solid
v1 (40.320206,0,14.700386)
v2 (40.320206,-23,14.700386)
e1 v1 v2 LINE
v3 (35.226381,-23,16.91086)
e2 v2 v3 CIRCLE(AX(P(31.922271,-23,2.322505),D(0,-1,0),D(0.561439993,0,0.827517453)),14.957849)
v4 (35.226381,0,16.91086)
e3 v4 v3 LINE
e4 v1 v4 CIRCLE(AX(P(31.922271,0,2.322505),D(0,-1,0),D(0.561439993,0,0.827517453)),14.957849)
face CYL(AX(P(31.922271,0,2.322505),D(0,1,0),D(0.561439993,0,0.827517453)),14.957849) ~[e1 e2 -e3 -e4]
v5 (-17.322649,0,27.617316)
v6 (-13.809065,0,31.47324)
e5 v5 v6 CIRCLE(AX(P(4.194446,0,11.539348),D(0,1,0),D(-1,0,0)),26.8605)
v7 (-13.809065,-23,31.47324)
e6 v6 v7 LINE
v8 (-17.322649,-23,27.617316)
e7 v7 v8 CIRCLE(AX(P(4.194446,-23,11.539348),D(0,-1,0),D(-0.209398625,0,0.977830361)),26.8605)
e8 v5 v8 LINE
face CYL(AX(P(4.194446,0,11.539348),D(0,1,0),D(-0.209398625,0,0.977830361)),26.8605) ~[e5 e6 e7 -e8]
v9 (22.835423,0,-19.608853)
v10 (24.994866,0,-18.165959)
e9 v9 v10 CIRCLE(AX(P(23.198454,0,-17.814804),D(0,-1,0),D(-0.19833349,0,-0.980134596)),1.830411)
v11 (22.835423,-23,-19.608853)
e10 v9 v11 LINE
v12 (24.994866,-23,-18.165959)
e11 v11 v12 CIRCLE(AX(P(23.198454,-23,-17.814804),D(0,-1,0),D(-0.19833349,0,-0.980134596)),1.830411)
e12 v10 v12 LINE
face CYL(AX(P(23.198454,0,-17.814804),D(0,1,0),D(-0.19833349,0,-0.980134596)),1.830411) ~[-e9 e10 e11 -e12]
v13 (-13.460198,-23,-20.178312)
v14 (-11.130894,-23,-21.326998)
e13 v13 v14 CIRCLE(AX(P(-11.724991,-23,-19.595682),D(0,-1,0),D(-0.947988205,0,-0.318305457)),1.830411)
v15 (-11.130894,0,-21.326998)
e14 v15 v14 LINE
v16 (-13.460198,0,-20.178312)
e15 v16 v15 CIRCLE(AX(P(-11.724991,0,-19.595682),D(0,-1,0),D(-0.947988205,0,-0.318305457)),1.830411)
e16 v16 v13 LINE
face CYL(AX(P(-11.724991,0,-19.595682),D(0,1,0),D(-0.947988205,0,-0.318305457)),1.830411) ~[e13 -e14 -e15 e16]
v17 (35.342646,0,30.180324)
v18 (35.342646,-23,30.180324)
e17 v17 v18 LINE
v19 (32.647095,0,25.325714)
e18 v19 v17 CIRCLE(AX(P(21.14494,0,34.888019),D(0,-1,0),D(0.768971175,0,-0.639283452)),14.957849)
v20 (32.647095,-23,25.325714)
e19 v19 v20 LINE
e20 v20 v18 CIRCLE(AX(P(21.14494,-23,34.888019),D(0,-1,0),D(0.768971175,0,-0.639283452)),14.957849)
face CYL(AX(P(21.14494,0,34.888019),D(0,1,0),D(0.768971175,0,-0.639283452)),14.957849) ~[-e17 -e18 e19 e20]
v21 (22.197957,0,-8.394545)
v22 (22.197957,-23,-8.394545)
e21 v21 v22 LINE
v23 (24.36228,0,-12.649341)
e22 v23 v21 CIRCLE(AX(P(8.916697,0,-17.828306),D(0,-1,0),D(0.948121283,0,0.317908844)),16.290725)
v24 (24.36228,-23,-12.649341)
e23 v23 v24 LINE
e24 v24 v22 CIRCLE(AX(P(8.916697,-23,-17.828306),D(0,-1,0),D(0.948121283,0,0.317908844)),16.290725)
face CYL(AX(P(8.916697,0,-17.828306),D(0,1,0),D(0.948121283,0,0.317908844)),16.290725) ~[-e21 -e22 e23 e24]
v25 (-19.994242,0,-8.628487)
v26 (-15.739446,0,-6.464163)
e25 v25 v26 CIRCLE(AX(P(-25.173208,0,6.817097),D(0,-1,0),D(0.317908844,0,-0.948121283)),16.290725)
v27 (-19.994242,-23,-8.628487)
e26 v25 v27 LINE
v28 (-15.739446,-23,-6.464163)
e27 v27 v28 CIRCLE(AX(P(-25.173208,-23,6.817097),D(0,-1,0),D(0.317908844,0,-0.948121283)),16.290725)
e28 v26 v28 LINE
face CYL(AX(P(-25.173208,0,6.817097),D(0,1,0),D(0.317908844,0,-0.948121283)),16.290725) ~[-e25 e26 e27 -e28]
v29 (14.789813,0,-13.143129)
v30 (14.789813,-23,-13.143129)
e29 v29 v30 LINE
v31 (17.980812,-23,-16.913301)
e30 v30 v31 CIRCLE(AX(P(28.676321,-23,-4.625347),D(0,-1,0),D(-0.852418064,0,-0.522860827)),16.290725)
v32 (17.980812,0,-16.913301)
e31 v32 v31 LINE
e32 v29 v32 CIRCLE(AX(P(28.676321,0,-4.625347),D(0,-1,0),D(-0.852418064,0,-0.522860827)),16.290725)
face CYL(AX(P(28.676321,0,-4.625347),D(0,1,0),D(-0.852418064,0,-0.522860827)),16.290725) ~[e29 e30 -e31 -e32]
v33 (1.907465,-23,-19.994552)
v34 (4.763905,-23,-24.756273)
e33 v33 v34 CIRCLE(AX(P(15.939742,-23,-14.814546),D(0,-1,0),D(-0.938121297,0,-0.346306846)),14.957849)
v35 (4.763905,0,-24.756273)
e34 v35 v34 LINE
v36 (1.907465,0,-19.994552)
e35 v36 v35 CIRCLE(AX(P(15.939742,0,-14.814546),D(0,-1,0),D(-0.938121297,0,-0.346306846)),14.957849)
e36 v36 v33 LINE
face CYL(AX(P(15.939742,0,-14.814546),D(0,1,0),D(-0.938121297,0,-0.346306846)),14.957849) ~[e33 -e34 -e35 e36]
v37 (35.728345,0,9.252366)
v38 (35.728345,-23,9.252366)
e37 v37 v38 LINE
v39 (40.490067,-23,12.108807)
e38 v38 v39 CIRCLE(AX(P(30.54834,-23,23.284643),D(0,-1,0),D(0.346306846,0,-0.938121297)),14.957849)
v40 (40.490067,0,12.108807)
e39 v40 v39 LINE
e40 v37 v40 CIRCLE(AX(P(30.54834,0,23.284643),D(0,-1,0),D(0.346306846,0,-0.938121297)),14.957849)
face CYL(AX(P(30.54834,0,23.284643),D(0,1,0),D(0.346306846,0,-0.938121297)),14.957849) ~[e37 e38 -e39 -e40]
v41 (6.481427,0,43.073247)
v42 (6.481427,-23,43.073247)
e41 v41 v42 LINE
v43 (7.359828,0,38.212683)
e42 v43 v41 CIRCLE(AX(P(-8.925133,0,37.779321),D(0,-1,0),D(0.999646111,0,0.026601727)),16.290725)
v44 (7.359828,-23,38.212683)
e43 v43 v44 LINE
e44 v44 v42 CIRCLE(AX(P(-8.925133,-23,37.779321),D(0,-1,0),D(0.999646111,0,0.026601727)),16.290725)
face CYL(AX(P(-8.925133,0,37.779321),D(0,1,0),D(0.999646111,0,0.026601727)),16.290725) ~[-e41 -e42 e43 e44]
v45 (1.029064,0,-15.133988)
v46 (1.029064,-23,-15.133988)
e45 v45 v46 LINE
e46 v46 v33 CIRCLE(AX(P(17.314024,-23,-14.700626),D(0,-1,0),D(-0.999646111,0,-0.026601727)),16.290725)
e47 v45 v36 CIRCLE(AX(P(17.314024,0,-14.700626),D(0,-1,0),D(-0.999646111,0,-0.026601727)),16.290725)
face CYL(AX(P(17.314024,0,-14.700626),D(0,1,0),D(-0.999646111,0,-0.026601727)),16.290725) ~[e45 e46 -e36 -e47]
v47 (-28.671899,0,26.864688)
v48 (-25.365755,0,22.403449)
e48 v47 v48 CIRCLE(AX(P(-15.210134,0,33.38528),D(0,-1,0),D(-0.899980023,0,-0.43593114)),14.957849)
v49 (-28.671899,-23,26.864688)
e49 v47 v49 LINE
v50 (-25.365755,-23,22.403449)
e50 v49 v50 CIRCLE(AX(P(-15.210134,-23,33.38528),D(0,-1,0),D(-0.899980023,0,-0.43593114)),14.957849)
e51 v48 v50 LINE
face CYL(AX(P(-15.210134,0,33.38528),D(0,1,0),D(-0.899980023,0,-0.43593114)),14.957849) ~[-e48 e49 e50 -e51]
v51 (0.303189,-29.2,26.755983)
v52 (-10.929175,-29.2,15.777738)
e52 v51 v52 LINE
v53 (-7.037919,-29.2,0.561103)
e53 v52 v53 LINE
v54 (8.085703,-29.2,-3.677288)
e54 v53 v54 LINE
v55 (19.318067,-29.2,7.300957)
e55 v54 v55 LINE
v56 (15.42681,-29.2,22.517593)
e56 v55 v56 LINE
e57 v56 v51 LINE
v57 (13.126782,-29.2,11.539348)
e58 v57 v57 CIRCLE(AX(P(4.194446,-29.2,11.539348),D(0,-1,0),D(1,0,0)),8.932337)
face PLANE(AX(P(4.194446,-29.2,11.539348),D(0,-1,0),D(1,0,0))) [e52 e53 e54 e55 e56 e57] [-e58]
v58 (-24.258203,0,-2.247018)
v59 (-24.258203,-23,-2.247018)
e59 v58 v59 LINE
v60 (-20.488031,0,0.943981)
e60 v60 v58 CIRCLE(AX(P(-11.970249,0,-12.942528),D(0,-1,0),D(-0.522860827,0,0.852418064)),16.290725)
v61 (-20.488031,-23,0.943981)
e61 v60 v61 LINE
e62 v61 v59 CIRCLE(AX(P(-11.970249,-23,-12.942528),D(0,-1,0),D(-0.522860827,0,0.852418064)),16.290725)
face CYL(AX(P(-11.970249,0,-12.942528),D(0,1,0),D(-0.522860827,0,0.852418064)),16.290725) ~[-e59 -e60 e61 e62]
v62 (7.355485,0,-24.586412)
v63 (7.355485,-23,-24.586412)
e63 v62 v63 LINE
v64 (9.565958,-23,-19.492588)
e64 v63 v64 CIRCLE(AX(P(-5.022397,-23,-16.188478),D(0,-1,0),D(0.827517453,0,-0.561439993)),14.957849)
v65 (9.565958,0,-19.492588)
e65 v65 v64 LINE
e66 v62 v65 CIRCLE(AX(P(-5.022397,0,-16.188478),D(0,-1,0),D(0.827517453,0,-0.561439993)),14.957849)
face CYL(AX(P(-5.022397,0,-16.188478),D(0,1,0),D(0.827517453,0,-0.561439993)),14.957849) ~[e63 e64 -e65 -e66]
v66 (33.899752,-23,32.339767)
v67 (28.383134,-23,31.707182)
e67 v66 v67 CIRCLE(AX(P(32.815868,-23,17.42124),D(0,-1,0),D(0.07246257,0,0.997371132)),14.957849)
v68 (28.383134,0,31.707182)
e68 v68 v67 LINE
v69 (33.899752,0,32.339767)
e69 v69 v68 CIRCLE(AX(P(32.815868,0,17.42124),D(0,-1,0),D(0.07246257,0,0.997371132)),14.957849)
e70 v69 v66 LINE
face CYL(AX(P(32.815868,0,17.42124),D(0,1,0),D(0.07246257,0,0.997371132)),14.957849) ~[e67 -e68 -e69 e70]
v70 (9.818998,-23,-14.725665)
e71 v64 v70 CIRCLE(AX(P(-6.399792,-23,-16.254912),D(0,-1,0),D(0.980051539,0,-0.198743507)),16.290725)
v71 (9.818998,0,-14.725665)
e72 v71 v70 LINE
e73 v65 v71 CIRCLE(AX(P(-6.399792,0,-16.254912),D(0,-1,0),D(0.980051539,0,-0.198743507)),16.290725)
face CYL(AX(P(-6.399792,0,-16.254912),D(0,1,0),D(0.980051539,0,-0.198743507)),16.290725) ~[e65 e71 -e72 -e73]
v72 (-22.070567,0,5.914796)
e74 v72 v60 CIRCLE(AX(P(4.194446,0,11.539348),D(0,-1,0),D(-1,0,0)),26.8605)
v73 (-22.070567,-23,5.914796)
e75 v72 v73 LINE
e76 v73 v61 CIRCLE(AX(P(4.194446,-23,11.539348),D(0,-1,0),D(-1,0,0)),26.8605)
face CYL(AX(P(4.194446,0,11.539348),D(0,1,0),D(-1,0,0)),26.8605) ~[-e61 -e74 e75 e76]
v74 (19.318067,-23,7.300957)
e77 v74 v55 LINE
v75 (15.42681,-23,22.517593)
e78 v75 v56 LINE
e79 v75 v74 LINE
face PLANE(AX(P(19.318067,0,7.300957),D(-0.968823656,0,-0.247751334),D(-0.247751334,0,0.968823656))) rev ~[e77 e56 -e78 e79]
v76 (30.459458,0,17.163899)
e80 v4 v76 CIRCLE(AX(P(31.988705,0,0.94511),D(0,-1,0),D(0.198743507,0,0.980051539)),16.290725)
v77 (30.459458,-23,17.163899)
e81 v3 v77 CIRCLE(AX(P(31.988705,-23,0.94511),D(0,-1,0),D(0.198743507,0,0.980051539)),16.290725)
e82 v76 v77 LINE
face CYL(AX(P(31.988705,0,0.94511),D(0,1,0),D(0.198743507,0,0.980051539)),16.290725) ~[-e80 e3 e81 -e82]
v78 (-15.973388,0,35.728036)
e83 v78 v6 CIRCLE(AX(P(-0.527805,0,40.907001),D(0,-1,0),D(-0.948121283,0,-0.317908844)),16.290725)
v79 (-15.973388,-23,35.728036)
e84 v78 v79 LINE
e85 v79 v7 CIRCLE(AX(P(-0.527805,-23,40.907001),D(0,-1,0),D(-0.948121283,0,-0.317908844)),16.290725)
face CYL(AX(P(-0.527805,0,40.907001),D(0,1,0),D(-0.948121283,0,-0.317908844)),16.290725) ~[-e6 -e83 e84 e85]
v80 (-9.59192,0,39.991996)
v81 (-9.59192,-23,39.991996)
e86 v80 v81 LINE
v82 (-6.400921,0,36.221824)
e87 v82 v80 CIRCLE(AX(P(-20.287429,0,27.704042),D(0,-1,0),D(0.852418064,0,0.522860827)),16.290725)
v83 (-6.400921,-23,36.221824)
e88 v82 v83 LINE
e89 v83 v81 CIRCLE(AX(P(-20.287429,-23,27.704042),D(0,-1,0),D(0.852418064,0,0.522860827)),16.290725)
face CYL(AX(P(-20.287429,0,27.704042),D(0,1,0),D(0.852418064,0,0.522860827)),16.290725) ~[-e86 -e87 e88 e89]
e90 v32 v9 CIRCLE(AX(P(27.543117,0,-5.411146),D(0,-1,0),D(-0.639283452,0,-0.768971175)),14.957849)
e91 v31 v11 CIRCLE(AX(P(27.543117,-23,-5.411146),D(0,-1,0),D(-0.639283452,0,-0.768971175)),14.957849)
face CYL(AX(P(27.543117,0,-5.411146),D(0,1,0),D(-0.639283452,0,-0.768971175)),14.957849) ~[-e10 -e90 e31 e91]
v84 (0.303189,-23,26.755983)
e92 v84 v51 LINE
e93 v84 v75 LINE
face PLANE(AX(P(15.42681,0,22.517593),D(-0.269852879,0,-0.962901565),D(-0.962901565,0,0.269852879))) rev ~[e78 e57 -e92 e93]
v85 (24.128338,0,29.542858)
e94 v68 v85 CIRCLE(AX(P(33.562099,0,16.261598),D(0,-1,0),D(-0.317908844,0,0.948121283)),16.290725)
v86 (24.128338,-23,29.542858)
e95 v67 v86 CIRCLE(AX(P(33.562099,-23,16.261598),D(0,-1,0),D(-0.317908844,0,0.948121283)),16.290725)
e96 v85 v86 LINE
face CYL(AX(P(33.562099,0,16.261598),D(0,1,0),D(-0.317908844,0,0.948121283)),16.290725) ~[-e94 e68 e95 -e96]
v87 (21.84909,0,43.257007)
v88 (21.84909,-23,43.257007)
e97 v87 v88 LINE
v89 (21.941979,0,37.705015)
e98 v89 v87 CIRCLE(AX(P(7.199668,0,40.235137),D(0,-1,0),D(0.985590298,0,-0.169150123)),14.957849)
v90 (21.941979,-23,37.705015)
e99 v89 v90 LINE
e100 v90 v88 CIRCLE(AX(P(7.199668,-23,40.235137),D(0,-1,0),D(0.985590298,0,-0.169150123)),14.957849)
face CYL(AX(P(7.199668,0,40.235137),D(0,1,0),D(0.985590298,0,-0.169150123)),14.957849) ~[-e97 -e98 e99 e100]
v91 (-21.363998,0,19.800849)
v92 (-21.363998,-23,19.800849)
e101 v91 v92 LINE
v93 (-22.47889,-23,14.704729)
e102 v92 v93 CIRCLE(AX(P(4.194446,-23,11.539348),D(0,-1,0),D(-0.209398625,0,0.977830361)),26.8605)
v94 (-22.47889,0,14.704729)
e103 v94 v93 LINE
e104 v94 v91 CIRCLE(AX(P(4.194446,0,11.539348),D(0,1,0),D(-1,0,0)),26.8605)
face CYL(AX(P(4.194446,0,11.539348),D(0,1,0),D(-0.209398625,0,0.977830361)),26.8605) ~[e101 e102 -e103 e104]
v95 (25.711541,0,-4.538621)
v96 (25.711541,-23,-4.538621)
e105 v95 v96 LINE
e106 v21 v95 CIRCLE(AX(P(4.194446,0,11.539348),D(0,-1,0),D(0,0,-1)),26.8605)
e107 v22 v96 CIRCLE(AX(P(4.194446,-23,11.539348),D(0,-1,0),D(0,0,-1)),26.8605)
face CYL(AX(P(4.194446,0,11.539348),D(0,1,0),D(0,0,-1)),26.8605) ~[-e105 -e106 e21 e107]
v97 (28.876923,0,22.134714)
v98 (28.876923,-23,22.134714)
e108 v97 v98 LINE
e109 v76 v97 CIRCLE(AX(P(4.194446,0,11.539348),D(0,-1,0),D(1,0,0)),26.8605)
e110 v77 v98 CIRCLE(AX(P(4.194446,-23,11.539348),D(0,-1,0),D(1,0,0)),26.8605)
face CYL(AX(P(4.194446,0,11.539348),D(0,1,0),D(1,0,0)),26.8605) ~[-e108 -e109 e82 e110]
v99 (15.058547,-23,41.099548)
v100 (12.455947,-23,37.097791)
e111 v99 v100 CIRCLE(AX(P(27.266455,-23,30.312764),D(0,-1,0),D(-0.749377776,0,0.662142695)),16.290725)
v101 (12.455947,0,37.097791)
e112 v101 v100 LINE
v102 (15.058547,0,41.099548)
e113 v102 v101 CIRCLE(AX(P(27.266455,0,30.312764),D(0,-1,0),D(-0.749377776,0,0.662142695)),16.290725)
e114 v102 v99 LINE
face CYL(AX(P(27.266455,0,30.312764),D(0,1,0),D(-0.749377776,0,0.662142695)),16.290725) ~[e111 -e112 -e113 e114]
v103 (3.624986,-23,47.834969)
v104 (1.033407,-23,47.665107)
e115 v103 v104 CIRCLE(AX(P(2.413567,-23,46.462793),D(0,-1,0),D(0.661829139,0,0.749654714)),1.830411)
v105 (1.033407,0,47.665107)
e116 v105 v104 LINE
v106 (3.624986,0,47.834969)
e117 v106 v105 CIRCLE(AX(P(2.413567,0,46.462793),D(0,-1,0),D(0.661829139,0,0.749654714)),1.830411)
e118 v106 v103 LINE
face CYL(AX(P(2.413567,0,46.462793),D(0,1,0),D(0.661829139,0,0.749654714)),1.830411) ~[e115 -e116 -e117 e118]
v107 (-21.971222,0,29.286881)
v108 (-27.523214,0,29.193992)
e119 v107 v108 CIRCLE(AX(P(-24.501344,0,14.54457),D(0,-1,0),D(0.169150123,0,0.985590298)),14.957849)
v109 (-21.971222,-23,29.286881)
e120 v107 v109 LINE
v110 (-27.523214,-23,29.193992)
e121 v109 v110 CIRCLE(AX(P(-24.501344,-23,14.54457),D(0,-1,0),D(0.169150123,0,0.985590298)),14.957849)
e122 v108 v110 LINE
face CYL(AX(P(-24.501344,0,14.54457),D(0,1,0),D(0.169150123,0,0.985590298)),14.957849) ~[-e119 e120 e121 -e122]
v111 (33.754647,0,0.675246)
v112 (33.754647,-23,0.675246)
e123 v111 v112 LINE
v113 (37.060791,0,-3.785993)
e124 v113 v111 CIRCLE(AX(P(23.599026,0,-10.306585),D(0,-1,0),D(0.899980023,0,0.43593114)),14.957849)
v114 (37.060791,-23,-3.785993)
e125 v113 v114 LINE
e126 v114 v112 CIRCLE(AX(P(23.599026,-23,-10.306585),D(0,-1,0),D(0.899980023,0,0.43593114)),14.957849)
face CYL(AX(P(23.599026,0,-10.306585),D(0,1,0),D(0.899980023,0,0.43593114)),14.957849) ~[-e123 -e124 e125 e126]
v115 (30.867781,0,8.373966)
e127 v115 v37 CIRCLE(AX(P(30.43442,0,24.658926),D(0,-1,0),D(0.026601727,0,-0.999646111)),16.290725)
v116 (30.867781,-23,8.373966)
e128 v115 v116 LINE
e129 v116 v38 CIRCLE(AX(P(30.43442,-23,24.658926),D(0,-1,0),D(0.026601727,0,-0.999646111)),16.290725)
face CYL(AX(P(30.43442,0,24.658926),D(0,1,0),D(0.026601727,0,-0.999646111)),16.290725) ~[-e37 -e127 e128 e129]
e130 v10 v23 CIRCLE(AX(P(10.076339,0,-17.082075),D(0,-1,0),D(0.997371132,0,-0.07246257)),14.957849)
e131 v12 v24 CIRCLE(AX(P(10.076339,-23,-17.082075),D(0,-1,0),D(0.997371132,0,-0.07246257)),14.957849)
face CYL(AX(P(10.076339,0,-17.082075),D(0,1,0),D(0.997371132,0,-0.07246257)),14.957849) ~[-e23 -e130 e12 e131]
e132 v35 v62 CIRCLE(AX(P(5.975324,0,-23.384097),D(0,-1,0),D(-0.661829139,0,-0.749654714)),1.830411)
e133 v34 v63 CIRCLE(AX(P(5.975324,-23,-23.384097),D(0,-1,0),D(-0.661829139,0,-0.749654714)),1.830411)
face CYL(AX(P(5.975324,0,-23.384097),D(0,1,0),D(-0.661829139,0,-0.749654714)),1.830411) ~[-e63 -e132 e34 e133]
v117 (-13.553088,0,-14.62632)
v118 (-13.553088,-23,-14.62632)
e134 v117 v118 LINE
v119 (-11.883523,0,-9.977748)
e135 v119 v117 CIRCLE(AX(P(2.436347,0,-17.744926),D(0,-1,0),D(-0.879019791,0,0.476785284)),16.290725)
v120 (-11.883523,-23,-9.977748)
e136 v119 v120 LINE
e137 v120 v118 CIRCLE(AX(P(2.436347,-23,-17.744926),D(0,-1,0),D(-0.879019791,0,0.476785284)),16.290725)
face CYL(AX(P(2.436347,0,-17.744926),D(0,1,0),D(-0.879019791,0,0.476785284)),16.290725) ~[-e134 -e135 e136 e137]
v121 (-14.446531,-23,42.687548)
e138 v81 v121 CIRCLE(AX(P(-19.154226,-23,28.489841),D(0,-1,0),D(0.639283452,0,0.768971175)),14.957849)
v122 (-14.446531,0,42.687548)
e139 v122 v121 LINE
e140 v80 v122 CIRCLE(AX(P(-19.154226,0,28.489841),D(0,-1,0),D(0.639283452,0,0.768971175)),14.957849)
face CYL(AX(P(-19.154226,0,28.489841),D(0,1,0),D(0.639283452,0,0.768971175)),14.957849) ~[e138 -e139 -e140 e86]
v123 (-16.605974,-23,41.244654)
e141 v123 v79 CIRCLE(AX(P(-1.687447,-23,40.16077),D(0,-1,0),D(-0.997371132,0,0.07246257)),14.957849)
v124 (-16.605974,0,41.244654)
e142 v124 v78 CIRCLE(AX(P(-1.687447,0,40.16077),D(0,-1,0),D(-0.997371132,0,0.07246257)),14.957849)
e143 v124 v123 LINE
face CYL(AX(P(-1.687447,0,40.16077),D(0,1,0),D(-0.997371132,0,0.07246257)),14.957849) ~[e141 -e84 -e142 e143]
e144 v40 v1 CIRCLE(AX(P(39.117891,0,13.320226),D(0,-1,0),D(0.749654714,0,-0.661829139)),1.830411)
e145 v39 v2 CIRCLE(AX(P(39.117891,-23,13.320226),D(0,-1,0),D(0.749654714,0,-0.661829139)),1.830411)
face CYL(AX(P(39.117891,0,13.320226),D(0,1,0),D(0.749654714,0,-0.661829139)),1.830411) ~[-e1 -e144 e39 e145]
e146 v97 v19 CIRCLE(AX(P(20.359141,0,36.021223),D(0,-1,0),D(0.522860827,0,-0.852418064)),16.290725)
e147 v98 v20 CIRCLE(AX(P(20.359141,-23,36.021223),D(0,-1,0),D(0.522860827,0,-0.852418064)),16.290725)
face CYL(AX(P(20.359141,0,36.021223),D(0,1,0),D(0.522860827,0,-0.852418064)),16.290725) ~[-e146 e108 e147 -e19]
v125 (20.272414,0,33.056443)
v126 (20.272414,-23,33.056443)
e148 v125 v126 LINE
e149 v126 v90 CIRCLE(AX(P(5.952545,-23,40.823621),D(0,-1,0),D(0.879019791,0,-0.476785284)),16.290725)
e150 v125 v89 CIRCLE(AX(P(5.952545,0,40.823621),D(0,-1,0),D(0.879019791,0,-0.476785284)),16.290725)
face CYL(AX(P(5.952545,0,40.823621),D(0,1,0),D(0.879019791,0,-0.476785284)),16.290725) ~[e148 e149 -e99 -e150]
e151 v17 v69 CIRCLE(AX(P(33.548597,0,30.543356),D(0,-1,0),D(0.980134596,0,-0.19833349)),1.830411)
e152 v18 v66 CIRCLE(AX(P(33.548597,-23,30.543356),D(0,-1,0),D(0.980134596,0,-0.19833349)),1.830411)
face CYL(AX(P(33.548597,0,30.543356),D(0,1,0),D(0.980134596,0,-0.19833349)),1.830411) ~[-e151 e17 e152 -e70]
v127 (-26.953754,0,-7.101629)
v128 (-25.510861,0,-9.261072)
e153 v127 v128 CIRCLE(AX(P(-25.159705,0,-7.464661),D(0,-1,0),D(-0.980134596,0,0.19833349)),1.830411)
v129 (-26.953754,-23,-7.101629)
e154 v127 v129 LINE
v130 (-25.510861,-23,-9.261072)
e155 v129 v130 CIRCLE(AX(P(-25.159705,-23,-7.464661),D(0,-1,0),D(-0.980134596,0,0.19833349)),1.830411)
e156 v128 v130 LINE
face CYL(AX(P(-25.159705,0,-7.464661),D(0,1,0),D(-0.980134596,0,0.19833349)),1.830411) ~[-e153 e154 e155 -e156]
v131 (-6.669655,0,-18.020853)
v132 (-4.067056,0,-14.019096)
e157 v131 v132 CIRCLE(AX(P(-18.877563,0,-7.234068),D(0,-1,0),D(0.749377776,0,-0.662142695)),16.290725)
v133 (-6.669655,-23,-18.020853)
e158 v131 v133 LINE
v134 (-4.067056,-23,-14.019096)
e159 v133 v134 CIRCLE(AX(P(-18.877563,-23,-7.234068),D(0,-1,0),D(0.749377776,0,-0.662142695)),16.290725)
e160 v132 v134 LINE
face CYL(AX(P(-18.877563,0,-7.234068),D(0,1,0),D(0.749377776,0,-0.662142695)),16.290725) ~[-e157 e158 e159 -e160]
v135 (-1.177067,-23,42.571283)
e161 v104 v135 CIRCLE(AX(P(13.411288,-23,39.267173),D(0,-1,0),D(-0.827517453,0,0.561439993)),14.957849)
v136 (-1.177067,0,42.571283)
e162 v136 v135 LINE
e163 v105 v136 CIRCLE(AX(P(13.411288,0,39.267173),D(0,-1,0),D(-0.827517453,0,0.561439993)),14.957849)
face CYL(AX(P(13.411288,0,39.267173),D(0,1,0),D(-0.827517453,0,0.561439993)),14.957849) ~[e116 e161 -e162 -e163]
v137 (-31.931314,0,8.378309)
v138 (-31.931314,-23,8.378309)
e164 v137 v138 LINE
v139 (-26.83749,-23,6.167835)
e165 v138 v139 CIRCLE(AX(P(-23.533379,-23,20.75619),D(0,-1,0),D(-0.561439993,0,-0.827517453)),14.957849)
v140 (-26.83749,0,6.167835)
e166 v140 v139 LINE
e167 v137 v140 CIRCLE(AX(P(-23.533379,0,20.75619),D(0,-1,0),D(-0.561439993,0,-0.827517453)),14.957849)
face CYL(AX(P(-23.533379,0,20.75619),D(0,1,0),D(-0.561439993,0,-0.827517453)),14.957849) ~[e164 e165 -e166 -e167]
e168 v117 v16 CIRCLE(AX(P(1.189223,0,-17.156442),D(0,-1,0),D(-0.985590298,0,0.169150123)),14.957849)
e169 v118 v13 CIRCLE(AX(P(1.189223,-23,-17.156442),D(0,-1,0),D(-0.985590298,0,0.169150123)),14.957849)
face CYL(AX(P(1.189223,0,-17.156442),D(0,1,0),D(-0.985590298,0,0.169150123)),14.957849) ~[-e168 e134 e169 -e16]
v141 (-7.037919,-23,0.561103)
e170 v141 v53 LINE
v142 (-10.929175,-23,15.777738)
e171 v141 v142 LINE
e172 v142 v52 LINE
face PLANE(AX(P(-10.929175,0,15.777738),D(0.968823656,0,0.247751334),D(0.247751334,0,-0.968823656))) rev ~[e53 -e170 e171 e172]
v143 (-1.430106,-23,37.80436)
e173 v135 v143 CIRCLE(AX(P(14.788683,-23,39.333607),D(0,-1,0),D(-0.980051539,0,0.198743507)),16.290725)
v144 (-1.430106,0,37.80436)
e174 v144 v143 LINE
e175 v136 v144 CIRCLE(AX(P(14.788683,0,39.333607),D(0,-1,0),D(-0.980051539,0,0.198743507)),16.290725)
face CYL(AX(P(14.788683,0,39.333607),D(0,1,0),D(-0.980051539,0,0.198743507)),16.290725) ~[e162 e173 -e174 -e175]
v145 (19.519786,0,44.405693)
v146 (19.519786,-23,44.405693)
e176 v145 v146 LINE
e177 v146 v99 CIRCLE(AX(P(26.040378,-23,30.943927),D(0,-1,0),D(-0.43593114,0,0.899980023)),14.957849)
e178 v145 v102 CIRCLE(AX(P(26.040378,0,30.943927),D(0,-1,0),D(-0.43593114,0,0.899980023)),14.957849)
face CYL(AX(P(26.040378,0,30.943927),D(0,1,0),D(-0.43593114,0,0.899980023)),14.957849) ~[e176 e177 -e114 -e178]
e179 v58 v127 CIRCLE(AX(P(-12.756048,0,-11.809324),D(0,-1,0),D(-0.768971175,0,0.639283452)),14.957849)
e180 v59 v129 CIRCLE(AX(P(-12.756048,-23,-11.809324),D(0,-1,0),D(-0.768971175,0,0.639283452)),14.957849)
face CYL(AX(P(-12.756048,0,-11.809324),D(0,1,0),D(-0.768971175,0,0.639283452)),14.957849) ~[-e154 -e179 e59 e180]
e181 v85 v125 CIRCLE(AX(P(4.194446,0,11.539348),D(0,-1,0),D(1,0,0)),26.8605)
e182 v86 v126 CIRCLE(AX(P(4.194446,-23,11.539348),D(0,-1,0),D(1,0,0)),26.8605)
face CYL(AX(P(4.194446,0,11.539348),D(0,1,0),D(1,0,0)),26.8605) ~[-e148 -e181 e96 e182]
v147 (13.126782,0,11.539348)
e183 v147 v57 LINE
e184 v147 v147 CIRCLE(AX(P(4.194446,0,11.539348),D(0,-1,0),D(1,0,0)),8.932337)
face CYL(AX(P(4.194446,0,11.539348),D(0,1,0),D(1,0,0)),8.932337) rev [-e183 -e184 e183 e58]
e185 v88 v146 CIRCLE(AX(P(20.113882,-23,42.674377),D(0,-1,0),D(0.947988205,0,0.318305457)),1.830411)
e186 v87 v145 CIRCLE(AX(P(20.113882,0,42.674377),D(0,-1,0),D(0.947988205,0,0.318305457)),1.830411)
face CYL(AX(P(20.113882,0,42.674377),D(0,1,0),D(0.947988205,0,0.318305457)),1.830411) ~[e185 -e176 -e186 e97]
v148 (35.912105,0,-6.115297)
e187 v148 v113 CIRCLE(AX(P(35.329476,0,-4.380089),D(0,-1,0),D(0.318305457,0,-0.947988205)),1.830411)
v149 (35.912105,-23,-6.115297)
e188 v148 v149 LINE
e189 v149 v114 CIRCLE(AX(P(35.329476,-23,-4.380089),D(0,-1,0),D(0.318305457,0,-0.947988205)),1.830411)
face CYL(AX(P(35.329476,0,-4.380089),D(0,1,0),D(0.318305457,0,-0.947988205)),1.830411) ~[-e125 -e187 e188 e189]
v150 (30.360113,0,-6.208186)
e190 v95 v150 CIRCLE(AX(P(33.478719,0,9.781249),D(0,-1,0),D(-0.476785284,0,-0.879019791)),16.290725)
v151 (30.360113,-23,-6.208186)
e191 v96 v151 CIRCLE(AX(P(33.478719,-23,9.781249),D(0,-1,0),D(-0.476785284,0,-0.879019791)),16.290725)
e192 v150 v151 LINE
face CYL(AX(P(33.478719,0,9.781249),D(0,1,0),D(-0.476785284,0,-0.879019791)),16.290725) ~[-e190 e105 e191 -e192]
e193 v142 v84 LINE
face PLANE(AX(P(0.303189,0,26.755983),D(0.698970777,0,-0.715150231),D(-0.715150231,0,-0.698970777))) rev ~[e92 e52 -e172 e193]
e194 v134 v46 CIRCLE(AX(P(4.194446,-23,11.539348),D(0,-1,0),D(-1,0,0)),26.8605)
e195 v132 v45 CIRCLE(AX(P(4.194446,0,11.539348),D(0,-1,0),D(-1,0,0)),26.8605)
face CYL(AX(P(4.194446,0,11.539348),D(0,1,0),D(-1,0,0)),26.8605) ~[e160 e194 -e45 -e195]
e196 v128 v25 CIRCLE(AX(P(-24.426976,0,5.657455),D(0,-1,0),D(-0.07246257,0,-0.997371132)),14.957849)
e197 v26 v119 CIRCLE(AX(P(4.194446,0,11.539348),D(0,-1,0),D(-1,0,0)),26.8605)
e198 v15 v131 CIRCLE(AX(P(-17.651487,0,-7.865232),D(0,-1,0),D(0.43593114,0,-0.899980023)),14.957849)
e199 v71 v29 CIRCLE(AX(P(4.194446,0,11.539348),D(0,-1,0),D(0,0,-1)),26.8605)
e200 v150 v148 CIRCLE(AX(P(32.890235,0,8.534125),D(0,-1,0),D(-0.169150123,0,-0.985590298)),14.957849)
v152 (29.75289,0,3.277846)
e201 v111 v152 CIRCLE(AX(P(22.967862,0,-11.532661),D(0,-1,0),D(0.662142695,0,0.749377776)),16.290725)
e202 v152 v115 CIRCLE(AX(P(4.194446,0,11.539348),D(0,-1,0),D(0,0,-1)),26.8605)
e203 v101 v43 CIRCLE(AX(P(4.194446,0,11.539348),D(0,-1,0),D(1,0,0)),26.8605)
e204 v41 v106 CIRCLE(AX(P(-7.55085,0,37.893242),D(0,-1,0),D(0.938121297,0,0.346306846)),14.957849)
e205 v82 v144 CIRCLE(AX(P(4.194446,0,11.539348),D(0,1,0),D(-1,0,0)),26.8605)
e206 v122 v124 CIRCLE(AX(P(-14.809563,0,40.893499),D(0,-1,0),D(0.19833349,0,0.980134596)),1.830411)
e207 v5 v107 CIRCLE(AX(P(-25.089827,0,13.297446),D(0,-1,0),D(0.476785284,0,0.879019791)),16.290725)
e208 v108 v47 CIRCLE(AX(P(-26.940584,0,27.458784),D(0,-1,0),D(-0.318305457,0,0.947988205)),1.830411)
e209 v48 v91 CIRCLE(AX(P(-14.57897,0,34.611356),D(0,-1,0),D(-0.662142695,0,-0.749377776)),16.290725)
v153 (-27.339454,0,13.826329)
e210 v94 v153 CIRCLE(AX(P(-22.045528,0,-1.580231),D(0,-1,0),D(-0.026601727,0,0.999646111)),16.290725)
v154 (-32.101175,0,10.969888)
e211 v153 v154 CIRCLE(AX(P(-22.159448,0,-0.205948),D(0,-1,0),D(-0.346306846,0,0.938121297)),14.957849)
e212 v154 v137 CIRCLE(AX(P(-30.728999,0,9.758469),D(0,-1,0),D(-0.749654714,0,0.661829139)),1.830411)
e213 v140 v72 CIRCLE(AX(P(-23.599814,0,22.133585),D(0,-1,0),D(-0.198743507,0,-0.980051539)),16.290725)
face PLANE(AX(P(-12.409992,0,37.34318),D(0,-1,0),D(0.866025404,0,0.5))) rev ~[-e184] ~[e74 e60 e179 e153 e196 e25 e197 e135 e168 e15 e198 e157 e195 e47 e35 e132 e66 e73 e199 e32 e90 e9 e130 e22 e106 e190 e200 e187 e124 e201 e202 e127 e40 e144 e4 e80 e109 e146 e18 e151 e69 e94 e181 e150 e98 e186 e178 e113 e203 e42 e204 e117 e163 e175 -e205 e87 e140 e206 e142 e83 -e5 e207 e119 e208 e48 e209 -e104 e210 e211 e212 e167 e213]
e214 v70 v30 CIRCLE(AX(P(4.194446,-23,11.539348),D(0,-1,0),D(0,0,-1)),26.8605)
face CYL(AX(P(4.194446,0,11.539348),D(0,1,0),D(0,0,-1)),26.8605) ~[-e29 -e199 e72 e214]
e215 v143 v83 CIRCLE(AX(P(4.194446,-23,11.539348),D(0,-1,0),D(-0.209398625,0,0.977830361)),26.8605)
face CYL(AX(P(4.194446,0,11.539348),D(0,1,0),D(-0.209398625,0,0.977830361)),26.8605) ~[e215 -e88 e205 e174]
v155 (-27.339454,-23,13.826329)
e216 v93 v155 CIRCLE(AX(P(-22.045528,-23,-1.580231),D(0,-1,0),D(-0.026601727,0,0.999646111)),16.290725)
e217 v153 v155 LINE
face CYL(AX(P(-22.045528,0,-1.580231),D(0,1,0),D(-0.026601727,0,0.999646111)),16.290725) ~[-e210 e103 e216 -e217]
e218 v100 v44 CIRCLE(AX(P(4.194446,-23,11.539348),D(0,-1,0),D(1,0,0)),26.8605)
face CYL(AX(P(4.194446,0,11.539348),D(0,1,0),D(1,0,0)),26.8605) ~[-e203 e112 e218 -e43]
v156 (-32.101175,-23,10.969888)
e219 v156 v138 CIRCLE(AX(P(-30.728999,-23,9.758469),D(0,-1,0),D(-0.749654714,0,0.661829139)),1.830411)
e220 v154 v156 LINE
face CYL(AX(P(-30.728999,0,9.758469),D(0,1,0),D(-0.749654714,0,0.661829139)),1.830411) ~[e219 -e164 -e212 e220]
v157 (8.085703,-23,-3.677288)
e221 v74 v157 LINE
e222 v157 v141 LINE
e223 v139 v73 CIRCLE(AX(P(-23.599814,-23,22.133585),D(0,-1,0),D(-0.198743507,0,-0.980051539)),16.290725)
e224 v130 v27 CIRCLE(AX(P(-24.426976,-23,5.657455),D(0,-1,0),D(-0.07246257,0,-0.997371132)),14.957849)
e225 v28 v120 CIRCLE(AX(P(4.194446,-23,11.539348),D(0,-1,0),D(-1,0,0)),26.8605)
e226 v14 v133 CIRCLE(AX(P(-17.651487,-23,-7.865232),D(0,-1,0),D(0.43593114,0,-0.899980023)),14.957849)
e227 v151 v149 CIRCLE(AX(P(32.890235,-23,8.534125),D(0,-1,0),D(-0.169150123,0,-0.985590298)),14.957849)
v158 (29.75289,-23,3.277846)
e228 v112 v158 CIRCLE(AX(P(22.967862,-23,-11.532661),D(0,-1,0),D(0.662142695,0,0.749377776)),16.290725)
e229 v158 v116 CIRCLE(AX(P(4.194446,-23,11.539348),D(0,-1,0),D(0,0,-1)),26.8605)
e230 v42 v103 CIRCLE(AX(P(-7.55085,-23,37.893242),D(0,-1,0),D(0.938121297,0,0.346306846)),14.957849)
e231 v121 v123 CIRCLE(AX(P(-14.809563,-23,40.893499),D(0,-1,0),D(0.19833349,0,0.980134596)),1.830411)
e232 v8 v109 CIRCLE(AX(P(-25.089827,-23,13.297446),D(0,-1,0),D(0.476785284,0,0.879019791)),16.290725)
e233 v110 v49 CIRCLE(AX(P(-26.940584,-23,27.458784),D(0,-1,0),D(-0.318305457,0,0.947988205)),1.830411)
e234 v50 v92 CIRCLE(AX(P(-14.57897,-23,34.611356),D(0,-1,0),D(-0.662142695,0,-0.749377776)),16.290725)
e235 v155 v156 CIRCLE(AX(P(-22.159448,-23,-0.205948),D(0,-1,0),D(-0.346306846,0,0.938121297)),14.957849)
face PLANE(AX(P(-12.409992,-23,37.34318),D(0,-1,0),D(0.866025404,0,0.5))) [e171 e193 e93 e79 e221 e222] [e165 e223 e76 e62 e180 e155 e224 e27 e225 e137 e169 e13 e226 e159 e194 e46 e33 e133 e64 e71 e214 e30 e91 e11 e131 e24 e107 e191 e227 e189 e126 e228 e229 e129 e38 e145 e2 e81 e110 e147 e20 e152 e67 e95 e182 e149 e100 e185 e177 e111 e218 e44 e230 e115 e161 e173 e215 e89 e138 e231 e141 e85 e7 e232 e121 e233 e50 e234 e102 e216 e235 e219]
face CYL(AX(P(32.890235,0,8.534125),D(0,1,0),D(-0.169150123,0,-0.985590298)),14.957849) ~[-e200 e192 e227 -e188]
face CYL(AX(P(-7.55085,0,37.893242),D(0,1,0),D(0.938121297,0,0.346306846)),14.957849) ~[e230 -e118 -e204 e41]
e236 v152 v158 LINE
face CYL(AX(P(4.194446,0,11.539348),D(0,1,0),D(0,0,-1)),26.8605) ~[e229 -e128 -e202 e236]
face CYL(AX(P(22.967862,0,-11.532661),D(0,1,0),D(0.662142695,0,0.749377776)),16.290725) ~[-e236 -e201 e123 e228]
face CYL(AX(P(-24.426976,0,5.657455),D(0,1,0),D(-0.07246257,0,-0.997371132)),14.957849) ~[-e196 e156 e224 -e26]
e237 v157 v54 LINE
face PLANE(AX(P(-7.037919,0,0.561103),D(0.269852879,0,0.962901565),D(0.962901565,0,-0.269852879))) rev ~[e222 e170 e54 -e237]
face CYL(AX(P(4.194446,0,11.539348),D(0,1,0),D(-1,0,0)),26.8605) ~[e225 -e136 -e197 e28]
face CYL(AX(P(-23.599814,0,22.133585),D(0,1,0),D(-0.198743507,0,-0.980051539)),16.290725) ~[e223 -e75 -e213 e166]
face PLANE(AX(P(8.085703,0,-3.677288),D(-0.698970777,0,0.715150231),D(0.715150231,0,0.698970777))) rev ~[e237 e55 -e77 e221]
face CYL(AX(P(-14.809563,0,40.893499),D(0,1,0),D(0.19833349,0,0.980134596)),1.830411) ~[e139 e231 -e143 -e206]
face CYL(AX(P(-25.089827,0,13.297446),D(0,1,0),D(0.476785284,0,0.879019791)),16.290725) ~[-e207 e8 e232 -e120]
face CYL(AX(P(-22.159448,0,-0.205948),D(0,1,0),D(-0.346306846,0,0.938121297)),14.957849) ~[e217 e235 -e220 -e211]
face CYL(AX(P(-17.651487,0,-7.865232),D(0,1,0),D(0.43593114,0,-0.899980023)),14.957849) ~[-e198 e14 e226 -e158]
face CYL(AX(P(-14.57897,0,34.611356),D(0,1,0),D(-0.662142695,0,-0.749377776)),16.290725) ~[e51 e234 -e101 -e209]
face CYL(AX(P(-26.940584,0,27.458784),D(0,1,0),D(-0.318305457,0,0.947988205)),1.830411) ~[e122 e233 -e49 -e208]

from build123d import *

# Parameters (mm, degrees)
F1_DEPTH = 23
F2_COUNT = 12
F0_R     = 8.9323365914
F3_DEPTH = 29.2


with BuildPart() as f1:
    # F0 (on Front) → F1 (new body)
    with BuildSketch(Plane.XZ):
        with BuildLine():
            ThreePointArc((-1.430105941, 37.8043599743), (2.9480264381, 38.3709128978), (7.3598275006, 38.21268291))
            ThreePointArc((7.3598275006, 38.21268291), (7.1059115447, 40.6764495808), (6.4814269965, 43.0732471463))
            ThreePointArc((6.4814269965, 43.0732471463), (5.2761037826, 45.5878183542), (3.6249864327, 47.8349685287))
            ThreePointArc((3.6249864327, 47.8349685287), (2.2938527312, 48.2892841606), (1.0334071525, 47.6651074485))
            ThreePointArc((1.0334071525, 47.6651074485), (-0.310272704, 45.2216678947), (-1.1770668058, 42.5712829425))
            ThreePointArc((-1.1770668058, 42.5712829425), (-1.4791386758, 40.1971401747), (-1.430105941, 37.8043599743))
        make_face()
        with BuildLine():
            ThreePointArc((-1.430105941, 37.8043599743), (-12.6935408321, -9.348025826), (31.0549458343, 11.5393475513))
            ThreePointArc((31.0549458343, 11.5393475513), (24.2756583786, 29.3783879684), (7.3598275006, 38.21268291))
            ThreePointArc((7.3598275006, 38.21268291), (2.9480264381, 38.3709128978), (-1.430105941, 37.8043599743))
        make_face()
        Polygon((0.3031889381, 26.7559829898), (15.426810236, 22.5175925953), (19.3180671322, 7.3009571569), (8.0857027305, -3.6772878871), (-7.0379185674, 0.5611025073), (-10.9291754636, 15.7777379458), align=None, mode=Mode.SUBTRACT)
    extrude(amount=F1_DEPTH)

    # F2: F1 ×12 about axis
    f2_axis = Axis((4.1944458343, 0, 11.5393475513), (0, 1, 0))


with BuildPart() as f1_1:
    add(f1.part)
    for i in range(1, F2_COUNT):
        add(f1.part.rotate(f2_axis, i * 360 / F2_COUNT))

    # F0 (on Front) → F3 (join)
    with BuildSketch(Plane.XZ):
        Polygon((19.3180671322, 7.3009571569), (15.426810236, 22.5175925953), (0.3031889381, 26.7559829898), (-10.9291754636, 15.7777379458), (-7.0379185674, 0.5611025073), (8.0857027305, -3.6772878871), align=None)
        with Locations((4.1944458343, 11.5393475513)):
            Circle(F0_R, mode=Mode.SUBTRACT)
    extrude(amount=F3_DEPTH)


solid = f1_1.part
